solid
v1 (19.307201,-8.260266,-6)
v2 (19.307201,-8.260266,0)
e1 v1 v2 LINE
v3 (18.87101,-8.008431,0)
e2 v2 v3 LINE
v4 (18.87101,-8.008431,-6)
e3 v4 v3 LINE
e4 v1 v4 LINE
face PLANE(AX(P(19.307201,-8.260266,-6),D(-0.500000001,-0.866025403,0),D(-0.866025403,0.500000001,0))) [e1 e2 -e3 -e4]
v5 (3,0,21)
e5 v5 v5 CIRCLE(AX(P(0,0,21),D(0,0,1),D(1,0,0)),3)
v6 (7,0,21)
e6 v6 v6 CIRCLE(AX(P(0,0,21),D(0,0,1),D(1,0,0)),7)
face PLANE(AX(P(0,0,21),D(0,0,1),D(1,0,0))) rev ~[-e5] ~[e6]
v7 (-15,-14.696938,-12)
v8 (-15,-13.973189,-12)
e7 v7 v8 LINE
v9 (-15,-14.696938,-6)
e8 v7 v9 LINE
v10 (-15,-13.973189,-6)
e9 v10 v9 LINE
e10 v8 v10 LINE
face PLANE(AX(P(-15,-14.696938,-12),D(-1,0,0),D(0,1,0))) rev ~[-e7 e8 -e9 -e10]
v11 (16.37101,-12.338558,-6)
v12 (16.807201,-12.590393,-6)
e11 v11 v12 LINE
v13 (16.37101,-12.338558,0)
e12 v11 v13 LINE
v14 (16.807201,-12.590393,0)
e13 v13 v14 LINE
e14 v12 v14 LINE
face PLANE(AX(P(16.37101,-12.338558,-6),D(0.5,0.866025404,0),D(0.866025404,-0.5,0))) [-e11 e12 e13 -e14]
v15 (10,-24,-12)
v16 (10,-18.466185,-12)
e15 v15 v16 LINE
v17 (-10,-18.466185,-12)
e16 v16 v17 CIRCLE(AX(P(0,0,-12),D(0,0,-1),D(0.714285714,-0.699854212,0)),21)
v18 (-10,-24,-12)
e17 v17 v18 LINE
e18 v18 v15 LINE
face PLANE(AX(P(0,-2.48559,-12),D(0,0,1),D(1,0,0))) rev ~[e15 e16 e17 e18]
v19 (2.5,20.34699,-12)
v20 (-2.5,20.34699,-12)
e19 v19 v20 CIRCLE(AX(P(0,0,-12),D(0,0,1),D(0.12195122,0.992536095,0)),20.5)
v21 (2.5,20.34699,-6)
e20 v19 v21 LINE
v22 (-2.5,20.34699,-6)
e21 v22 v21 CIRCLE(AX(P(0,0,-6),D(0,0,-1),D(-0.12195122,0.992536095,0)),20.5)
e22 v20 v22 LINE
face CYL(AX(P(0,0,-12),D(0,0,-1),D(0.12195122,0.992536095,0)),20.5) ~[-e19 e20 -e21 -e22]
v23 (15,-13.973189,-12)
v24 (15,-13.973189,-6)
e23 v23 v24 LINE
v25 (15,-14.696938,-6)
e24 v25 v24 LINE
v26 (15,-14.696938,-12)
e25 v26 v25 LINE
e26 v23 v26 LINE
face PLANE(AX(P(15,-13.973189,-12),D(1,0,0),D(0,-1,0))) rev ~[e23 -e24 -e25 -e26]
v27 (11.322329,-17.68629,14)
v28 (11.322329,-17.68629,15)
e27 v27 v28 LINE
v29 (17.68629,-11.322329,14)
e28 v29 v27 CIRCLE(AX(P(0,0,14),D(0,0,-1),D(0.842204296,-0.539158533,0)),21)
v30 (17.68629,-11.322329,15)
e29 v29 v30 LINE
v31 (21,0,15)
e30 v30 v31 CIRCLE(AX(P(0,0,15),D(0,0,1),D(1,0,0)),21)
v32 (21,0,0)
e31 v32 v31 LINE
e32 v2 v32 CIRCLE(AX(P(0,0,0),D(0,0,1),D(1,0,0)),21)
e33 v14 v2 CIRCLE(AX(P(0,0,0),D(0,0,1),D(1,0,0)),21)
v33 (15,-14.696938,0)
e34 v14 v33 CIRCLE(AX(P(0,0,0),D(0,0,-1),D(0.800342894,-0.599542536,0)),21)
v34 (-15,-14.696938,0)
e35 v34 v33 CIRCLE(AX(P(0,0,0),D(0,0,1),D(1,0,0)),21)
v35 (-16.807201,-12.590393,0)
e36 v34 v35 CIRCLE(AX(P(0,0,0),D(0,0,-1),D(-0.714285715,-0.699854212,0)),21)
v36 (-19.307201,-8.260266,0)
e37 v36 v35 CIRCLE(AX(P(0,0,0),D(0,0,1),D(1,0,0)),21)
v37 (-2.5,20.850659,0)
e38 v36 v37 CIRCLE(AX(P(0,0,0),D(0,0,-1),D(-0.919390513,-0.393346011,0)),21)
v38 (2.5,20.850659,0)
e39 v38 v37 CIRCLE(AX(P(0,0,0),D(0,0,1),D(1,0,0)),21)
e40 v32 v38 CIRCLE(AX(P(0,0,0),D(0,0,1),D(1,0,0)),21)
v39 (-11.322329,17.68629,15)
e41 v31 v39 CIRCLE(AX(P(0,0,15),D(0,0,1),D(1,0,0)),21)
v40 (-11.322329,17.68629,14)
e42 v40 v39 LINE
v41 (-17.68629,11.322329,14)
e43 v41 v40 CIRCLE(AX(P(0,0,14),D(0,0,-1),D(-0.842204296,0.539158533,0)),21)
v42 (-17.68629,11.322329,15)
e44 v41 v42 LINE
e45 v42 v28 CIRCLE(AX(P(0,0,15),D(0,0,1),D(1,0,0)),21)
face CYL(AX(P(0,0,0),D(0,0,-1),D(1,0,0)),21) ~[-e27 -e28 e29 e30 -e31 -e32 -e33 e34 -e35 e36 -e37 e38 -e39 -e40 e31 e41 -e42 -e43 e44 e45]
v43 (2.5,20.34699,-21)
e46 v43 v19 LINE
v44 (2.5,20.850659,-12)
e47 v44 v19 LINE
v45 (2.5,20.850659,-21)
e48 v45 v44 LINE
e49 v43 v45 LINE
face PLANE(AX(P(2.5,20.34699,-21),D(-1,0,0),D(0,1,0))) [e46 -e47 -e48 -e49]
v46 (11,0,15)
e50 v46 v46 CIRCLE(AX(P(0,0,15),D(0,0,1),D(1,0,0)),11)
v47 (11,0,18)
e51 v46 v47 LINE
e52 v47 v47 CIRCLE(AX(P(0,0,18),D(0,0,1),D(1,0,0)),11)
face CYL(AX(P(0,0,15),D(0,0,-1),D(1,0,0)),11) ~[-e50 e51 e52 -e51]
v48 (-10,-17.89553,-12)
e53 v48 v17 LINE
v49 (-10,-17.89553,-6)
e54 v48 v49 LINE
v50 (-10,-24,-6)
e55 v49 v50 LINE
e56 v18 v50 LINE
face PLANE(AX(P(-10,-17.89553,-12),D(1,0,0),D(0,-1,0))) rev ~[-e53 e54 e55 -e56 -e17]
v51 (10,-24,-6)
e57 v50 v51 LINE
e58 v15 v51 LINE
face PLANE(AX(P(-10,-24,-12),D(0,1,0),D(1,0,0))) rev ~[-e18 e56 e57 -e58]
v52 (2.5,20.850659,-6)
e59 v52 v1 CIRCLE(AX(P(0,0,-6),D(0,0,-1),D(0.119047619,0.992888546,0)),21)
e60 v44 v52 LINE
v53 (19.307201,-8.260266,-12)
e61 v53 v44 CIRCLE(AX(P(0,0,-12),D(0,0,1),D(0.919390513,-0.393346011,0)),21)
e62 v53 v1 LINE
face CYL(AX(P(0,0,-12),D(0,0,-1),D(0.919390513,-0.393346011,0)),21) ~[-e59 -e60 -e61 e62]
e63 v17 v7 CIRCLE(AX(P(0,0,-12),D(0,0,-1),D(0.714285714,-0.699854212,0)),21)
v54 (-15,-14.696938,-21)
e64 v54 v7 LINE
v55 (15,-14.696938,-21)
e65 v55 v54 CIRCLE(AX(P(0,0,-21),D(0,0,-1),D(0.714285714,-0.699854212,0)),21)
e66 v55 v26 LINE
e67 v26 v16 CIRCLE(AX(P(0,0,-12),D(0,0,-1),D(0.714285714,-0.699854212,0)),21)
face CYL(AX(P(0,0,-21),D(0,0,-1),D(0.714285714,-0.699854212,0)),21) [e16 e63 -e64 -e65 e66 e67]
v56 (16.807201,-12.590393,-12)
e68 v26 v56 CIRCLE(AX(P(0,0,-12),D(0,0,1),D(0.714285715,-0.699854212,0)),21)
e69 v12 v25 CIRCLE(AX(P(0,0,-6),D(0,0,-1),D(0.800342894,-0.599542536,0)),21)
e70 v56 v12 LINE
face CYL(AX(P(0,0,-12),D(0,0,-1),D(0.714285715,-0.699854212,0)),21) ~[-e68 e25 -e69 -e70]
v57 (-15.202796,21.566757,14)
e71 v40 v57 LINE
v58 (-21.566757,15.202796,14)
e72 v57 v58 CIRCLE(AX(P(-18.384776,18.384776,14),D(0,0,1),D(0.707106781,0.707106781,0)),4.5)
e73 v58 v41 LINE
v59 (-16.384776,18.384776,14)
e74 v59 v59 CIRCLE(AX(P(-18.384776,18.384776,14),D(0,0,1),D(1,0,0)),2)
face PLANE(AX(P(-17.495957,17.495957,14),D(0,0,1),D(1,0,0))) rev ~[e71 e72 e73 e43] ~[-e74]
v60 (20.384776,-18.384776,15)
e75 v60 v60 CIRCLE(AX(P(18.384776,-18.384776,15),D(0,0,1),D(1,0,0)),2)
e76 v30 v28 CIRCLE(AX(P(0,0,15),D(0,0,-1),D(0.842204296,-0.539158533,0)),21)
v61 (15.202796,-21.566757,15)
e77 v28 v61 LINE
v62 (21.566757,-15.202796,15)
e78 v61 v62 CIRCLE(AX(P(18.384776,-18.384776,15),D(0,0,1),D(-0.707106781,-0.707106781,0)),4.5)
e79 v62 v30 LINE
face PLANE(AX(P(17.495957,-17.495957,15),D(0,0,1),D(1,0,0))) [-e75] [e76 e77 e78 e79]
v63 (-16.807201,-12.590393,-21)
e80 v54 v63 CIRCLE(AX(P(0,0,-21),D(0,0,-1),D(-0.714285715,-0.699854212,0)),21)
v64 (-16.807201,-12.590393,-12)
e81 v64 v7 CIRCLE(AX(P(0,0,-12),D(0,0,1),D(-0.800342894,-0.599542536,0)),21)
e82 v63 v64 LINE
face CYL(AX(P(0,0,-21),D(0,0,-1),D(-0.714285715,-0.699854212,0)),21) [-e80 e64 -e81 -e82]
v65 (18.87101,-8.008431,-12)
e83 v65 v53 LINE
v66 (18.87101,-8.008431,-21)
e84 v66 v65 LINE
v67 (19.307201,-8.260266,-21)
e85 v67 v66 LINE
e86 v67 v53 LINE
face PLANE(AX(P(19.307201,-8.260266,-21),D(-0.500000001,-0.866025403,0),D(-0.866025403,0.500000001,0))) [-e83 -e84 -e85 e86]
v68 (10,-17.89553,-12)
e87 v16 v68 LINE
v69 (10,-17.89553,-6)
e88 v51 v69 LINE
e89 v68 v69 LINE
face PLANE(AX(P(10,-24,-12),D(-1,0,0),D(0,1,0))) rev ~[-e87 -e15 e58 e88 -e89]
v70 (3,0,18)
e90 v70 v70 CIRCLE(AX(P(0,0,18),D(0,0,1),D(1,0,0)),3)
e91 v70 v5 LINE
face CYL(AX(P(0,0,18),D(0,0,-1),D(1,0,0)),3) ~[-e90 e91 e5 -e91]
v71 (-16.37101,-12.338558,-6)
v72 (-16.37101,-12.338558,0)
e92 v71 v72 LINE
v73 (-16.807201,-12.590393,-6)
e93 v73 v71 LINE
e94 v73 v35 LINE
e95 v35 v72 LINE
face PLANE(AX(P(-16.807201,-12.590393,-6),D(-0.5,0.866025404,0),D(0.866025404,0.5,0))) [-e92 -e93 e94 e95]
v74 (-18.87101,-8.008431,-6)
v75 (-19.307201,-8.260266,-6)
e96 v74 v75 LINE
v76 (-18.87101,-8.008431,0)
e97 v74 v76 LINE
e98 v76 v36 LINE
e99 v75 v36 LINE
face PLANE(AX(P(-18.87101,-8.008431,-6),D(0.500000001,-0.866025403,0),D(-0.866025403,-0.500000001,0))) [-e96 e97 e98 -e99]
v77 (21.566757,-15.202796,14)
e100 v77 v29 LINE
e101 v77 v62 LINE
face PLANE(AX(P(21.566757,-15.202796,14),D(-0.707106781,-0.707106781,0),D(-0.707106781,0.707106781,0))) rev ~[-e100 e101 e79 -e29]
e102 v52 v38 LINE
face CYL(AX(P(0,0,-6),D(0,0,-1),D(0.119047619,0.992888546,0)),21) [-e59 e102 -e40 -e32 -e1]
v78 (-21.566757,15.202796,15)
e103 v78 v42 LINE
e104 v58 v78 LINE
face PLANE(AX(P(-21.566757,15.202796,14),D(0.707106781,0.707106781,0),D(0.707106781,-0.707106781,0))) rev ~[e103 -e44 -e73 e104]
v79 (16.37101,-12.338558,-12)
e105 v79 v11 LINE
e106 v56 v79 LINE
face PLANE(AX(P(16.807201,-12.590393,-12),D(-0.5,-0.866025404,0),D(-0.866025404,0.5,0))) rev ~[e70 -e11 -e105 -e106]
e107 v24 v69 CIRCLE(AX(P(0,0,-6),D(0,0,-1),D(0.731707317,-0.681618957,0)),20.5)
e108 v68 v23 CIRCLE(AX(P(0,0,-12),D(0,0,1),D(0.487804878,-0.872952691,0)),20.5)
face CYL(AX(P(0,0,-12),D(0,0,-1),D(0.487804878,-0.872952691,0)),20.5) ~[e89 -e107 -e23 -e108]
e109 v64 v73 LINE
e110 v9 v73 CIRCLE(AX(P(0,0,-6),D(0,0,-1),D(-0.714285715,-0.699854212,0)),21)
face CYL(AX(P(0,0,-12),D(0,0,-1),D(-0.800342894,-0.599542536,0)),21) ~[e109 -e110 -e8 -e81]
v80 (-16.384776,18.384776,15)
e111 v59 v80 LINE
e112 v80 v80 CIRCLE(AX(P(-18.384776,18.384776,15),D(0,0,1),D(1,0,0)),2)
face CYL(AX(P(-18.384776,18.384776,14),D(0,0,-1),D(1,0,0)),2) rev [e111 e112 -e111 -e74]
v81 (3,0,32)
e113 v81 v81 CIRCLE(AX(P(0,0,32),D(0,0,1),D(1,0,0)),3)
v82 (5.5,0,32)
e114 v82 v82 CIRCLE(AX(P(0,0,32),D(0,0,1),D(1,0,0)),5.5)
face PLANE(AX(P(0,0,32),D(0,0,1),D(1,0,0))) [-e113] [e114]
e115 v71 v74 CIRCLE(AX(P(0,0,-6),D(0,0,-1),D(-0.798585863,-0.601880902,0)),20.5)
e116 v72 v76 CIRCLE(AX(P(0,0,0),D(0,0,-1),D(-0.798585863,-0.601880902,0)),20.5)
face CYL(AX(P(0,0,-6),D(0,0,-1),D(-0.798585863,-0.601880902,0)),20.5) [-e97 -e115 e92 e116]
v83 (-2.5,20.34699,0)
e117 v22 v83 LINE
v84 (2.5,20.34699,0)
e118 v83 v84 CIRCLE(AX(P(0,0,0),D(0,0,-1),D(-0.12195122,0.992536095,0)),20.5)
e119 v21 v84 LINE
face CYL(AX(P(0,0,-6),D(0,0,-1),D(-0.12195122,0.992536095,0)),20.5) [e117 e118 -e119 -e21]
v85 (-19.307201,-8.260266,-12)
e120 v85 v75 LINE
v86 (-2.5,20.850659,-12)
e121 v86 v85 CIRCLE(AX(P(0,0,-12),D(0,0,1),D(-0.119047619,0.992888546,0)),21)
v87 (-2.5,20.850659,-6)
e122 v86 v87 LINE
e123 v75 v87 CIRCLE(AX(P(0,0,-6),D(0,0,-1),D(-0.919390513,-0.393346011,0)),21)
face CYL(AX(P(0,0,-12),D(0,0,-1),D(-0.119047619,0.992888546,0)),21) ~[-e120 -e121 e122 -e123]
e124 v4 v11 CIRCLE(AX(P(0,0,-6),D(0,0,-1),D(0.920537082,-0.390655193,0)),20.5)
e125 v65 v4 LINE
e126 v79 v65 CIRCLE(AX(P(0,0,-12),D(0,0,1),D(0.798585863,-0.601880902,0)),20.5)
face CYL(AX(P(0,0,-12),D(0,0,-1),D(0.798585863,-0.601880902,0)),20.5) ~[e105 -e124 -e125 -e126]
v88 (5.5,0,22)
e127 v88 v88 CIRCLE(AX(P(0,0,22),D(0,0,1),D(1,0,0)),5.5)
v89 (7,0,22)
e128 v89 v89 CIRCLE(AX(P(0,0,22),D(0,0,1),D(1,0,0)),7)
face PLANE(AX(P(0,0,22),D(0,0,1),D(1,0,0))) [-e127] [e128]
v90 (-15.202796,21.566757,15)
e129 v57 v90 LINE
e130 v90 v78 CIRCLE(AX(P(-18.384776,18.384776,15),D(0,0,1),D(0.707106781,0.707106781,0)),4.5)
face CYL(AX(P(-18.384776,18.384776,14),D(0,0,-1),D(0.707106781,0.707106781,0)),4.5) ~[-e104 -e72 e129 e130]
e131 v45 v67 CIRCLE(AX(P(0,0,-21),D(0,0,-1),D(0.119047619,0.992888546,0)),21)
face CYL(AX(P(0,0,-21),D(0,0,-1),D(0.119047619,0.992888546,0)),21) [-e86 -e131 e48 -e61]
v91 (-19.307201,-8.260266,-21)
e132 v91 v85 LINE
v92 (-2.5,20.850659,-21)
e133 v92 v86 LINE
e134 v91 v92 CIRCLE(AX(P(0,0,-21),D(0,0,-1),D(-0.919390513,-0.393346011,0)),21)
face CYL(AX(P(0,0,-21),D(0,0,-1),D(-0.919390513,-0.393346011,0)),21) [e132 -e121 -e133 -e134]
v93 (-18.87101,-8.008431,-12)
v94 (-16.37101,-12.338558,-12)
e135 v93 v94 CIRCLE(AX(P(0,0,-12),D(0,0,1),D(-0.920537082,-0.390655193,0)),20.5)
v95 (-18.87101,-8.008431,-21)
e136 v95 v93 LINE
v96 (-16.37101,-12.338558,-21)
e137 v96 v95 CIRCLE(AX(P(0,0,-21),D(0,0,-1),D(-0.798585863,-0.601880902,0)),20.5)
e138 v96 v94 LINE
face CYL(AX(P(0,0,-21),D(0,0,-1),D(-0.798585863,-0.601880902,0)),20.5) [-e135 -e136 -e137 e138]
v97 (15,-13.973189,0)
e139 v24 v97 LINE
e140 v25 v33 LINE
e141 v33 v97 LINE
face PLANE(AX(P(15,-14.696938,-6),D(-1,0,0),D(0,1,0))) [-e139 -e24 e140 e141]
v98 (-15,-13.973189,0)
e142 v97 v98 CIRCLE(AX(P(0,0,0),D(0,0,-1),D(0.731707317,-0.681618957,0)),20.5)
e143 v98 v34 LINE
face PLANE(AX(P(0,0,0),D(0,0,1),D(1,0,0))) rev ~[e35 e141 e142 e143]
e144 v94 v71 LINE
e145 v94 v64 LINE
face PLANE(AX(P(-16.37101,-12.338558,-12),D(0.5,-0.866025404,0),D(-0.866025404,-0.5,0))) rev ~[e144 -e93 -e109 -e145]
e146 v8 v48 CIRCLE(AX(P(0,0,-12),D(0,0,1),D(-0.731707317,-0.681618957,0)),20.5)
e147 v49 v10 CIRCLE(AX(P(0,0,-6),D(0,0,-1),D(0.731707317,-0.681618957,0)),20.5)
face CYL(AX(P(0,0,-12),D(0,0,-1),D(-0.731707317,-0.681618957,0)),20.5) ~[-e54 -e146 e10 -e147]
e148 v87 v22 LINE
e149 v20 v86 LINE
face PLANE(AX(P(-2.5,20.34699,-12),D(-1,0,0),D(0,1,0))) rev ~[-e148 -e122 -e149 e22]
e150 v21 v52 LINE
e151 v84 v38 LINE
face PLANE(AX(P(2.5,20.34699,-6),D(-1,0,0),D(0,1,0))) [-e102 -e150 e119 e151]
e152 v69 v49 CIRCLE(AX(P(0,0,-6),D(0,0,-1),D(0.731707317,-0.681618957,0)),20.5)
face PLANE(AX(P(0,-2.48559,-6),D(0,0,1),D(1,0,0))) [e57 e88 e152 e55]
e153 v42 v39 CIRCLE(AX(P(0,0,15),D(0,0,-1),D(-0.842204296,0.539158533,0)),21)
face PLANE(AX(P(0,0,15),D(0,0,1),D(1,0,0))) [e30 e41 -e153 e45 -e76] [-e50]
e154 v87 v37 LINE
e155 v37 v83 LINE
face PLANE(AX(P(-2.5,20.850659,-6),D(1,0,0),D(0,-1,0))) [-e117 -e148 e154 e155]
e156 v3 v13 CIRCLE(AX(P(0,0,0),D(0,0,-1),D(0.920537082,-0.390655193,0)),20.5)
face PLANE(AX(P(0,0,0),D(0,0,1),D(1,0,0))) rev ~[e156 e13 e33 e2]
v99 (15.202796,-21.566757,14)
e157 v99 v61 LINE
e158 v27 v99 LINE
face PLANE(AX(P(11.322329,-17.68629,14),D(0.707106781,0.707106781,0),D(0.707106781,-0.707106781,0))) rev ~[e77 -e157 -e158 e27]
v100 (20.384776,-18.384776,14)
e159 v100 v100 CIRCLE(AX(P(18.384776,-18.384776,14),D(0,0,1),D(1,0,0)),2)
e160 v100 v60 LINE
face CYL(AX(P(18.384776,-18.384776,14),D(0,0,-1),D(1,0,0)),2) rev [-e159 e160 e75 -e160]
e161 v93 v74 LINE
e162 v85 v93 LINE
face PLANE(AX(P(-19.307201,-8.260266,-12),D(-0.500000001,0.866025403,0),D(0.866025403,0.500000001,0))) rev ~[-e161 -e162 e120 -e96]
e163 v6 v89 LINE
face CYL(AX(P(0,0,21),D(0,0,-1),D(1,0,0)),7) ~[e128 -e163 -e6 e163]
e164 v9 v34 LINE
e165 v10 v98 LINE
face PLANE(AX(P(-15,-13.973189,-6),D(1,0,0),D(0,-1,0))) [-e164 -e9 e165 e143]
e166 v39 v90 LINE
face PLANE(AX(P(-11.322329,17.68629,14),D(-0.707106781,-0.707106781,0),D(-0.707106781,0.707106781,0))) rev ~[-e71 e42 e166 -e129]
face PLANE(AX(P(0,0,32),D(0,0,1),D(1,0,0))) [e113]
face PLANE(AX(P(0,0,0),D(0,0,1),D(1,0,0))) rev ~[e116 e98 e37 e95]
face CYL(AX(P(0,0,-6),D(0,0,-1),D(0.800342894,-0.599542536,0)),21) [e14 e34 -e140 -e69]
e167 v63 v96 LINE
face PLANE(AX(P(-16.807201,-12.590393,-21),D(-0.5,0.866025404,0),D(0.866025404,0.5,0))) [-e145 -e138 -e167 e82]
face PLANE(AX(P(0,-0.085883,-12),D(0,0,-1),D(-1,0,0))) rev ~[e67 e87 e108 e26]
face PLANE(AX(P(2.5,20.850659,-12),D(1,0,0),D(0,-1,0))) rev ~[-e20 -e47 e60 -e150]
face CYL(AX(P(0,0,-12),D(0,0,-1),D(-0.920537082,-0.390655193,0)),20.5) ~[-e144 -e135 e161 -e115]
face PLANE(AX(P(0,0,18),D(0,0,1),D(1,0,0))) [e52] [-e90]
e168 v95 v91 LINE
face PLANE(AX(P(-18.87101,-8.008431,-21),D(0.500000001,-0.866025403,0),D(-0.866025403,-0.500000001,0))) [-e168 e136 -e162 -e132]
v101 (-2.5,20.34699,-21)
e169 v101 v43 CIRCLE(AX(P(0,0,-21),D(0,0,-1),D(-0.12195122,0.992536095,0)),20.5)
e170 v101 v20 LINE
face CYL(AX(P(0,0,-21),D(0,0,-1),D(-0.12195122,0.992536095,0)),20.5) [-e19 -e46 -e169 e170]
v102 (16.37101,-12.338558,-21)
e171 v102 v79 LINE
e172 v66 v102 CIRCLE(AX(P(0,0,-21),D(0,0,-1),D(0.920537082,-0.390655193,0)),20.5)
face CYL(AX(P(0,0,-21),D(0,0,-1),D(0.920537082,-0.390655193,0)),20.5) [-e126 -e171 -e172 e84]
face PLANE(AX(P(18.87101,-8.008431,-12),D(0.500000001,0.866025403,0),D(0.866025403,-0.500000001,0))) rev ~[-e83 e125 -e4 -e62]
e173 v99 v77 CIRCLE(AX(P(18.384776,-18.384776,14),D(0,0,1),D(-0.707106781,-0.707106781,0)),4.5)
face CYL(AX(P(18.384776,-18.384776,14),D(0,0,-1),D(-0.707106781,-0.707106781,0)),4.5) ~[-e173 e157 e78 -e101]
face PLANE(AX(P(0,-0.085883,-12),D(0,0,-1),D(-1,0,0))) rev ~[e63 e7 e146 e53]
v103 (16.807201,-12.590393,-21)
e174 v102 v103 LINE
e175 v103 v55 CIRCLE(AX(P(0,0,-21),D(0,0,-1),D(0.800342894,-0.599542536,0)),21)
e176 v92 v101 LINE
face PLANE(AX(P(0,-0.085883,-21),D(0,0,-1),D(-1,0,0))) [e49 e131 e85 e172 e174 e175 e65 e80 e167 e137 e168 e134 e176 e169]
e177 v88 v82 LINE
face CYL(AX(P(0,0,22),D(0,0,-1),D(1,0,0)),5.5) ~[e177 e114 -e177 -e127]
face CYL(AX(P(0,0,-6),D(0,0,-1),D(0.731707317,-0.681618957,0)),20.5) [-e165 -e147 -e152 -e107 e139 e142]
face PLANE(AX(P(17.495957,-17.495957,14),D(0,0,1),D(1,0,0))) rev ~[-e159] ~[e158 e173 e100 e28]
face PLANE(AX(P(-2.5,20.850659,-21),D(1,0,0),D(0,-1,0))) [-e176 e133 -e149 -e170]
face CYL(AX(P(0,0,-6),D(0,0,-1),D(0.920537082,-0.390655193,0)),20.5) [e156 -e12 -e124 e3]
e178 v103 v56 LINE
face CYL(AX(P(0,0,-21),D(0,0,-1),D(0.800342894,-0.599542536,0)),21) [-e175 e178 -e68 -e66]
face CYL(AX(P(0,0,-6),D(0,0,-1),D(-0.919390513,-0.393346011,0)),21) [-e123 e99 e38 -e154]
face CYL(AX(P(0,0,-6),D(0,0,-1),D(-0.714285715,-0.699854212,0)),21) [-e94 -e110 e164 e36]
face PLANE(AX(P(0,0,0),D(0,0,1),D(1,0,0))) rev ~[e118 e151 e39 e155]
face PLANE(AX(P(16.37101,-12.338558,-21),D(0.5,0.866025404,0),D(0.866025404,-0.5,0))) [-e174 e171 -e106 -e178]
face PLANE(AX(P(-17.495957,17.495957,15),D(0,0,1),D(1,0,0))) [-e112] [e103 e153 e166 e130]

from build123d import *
from build123d.topology import SkipClean

# Parameters (mm, degrees)
SKETCH_1_R          = 21
EXTRUDE_1_DEPTH     = 15
EXTRUDE_START       = 6
EXTRUDE_2_DEPTH     = 6
EXTRUDE_3_DEPTH     = 6
EXTRUDE_START_2     = 9
EXTRUDE_4_DEPTH     = 9
SKETCH_6_R          = 11
EXTRUDE_5_DEPTH     = 3
SKETCH_7_R          = 3
EXTRUDE_6_DEPTH     = 14
EXTRUDE_START_3     = -1
SKETCH_8_R          = 2
EXTRUDE_7_DEPTH     = 1
EXTRUDE_START_4     = -11
SKETCH_9_R          = 7
SKETCH_9_R_2        = 3
EXTRUDE_8_DEPTH     = 11
CUT_EXTRUDE_START   = -10
SKETCH_10_R         = 7
SKETCH_10_R_2       = 5.5
CUT_EXTRUDE_1_DEPTH = 10


with BuildPart() as part:
    # 草图1 → 凸台-拉伸1 (new body)
    with BuildSketch(Plane.XY):
        Circle(SKETCH_1_R)
    extrude(amount=EXTRUDE_1_DEPTH)

    # 草图2 → 凸台-拉伸2 (add)
    with SkipClean():  # the faces are left unmerged after this step: merging them gives an invalid solid
        with BuildSketch(Plane(origin=(0, 0, 0), x_dir=(-1, 0, 0), z_dir=(0, 0, -1)).offset(EXTRUDE_START)):
            with BuildLine():
                Line((2.5, 20.850659462), (2.5, 20.346989949))
                ThreePointArc((2.5, 20.346989949), (0, 20.5), (-2.5, 20.346989949))
                Line((-2.5, 20.346989949), (-2.5, 20.850659462))
                ThreePointArc((-2.5, 20.850659462), (-18.186533479, 10.5), (-19.30720078, -8.260266222))
                Line((-19.30720078, -8.260266222), (-18.871010187, -8.008431465))
                ThreePointArc((-18.871010187, -8.008431465), (-17.753520778, -10.25), (-16.371010187, -12.338558484))
                Line((-16.371010187, -12.338558484), (-16.80720078, -12.59039324))
                ThreePointArc((-16.80720078, -12.59039324), (-15.938440593, -13.673555187), (-15, -14.696938457))
                Line((-15, -14.696938457), (-15, -13.973188612))
                ThreePointArc((-15, -13.973188612), (0, -20.5), (15, -13.973188612))
                Line((15, -13.973188612), (15, -14.696938457))
                ThreePointArc((15, -14.696938457), (15.938440593, -13.673555187), (16.80720078, -12.59039324))
                Line((16.80720078, -12.59039324), (16.371010187, -12.338558484))
                ThreePointArc((16.371010187, -12.338558484), (17.753520778, -10.25), (18.871010187, -8.008431465))
                Line((18.871010187, -8.008431465), (19.30720078, -8.260266222))
                ThreePointArc((19.30720078, -8.260266222), (18.186533479, 10.5), (2.5, 20.850659462))
            make_face()
        extrude(amount=-EXTRUDE_2_DEPTH)

    # 草图4 → 凸台-拉伸3 (add)
    with SkipClean():  # the faces are left unmerged after this step: merging them gives an invalid solid
        with BuildSketch(Plane(origin=(0, 0, -6), x_dir=(-1, 0, 0), z_dir=(0, 0, -1)).offset(EXTRUDE_START)):
            with BuildLine():
                Line((10, -17.895530168), (10, -24))
                Line((10, -24), (-10, -24))
                Line((-10, -24), (-10, -17.895530168))
                ThreePointArc((-10, -17.895530168), (-12.652912345, -16.129284212), (-15, -13.973188612))
                Line((-15, -13.973188612), (-15, -14.696938457))
                ThreePointArc((-15, -14.696938457), (-15.938440593, -13.673555187), (-16.80720078, -12.59039324))
                Line((-16.80720078, -12.59039324), (-16.371010187, -12.338558484))
                ThreePointArc((-16.371010187, -12.338558484), (-17.753520778, -10.25), (-18.871010187, -8.008431465))
                Line((-18.871010187, -8.008431465), (-19.30720078, -8.260266222))
                ThreePointArc((-19.30720078, -8.260266222), (-18.186533479, 10.5), (-2.5, 20.850659462))
                Line((-2.5, 20.850659462), (-2.5, 20.346989949))
                ThreePointArc((-2.5, 20.346989949), (0, 20.5), (2.5, 20.346989949))
                Line((2.5, 20.346989949), (2.5, 20.850659462))
                ThreePointArc((2.5, 20.850659462), (18.186533479, 10.5), (19.30720078, -8.260266222))
                Line((19.30720078, -8.260266222), (18.871010187, -8.008431465))
                ThreePointArc((18.871010187, -8.008431465), (17.753520778, -10.25), (16.371010187, -12.338558484))
                Line((16.371010187, -12.338558484), (16.80720078, -12.59039324))
                ThreePointArc((16.80720078, -12.59039324), (15.938440593, -13.673555187), (15, -14.696938457))
                Line((15, -14.696938457), (15, -13.973188612))
                ThreePointArc((15, -13.973188612), (12.652912345, -16.129284212), (10, -17.895530168))
            make_face()
        extrude(amount=-EXTRUDE_3_DEPTH)

    # 草图5 → 凸台-拉伸4 (add)
    with SkipClean():  # the faces are left unmerged after this step: merging them gives an invalid solid
        with BuildSketch(Plane(origin=(0, 0, -12), x_dir=(-1, 0, 0), z_dir=(0, 0, -1)).offset(EXTRUDE_START_2)):
            with BuildLine():
                Line((18.871010187, -8.008431465), (19.30720078, -8.260266222))
                ThreePointArc((19.30720078, -8.260266222), (18.186533479, 10.5), (2.5, 20.850659462))
                Line((2.5, 20.850659462), (2.5, 20.346989949))
                ThreePointArc((2.5, 20.346989949), (0, 20.5), (-2.5, 20.346989949))
                Line((-2.5, 20.346989949), (-2.5, 20.850659462))
                ThreePointArc((-2.5, 20.850659462), (-18.186533479, 10.5), (-19.30720078, -8.260266222))
                Line((-19.30720078, -8.260266222), (-18.871010187, -8.008431465))
                ThreePointArc((-18.871010187, -8.008431465), (-17.753520778, -10.25), (-16.371010187, -12.338558484))
                Line((-16.371010187, -12.338558484), (-16.80720078, -12.59039324))
                ThreePointArc((-16.80720078, -12.59039324), (-15.938440593, -13.673555187), (-15, -14.696938457))
                ThreePointArc((-15, -14.696938457), (0, -21), (15, -14.696938457))
                ThreePointArc((15, -14.696938457), (15.938440593, -13.673555187), (16.80720078, -12.59039324))
                Line((16.80720078, -12.59039324), (16.371010187, -12.338558484))
                ThreePointArc((16.371010187, -12.338558484), (17.753520778, -10.25), (18.871010187, -8.008431465))
            make_face()
        extrude(amount=-EXTRUDE_4_DEPTH)

    # 草图6 → 凸台-拉伸5 (add)
    with SkipClean():  # the faces are left unmerged after this step: merging them gives an invalid solid
        with BuildSketch(Plane.XY.offset(15)):
            Circle(SKETCH_6_R)
        extrude(amount=EXTRUDE_5_DEPTH)

    # 草图7 → 凸台-拉伸6 (add)
    with SkipClean():  # the faces are left unmerged after this step: merging them gives an invalid solid
        with BuildSketch(Plane.XY.offset(18)):
            Circle(SKETCH_7_R)
        extrude(amount=EXTRUDE_6_DEPTH)

    # 草图8 → 凸台-拉伸7 (add)
    # profile 1 of 2: a face of its own
    with SkipClean():  # the faces are left unmerged after this step: merging them gives an invalid solid
        with BuildSketch(Plane.XY.offset(15).offset(EXTRUDE_START_3)):
            with BuildLine():
                Line((21.566756826, -15.202795796), (17.68629022, -11.322329189))
                ThreePointArc((17.68629022, -11.322329189), (14.849242405, -14.849242405), (11.322329189, -17.68629022))
                Line((11.322329189, -17.68629022), (15.202795796, -21.566756826))
                ThreePointArc((15.202795796, -21.566756826), (21.566756826, -21.566756826), (21.566756826, -15.202795796))
            make_face()
            with Locations((18.384776311, -18.384776311)):
                Circle(SKETCH_8_R, mode=Mode.SUBTRACT)
        # profile 2 of 2: a face of its own
        with BuildSketch(Plane.XY.offset(15).offset(EXTRUDE_START_3)):
            with BuildLine():
                Line((-11.322329189, 17.68629022), (-15.202795796, 21.566756826))
                ThreePointArc((-15.202795796, 21.566756826), (-21.566756826, 21.566756826), (-21.566756826, 15.202795796))
                Line((-21.566756826, 15.202795796), (-17.68629022, 11.322329189))
                ThreePointArc((-17.68629022, 11.322329189), (-14.849242405, 14.849242405), (-11.322329189, 17.68629022))
            make_face()
            with Locations((-18.384776311, 18.384776311)):
                Circle(SKETCH_8_R, mode=Mode.SUBTRACT)
        extrude(amount=EXTRUDE_7_DEPTH)

    # 草图9 → 凸台-拉伸8 (add)
    with SkipClean():  # the faces are left unmerged after this step: merging them gives an invalid solid
        with BuildSketch(Plane.XY.offset(32).offset(EXTRUDE_START_4)):
            Circle(SKETCH_9_R)
            Circle(SKETCH_9_R_2, mode=Mode.SUBTRACT)
        extrude(amount=EXTRUDE_8_DEPTH)

    # 草图10 → 切除-拉伸1 (cut)
    with SkipClean():  # the faces are left unmerged after this step: merging them gives an invalid solid
        with BuildSketch(Plane.XY.offset(32).offset(CUT_EXTRUDE_START)):
            Circle(SKETCH_10_R)
            Circle(SKETCH_10_R_2, mode=Mode.SUBTRACT)
        extrude(amount=CUT_EXTRUDE_1_DEPTH, mode=Mode.SUBTRACT)


solid = part.part
